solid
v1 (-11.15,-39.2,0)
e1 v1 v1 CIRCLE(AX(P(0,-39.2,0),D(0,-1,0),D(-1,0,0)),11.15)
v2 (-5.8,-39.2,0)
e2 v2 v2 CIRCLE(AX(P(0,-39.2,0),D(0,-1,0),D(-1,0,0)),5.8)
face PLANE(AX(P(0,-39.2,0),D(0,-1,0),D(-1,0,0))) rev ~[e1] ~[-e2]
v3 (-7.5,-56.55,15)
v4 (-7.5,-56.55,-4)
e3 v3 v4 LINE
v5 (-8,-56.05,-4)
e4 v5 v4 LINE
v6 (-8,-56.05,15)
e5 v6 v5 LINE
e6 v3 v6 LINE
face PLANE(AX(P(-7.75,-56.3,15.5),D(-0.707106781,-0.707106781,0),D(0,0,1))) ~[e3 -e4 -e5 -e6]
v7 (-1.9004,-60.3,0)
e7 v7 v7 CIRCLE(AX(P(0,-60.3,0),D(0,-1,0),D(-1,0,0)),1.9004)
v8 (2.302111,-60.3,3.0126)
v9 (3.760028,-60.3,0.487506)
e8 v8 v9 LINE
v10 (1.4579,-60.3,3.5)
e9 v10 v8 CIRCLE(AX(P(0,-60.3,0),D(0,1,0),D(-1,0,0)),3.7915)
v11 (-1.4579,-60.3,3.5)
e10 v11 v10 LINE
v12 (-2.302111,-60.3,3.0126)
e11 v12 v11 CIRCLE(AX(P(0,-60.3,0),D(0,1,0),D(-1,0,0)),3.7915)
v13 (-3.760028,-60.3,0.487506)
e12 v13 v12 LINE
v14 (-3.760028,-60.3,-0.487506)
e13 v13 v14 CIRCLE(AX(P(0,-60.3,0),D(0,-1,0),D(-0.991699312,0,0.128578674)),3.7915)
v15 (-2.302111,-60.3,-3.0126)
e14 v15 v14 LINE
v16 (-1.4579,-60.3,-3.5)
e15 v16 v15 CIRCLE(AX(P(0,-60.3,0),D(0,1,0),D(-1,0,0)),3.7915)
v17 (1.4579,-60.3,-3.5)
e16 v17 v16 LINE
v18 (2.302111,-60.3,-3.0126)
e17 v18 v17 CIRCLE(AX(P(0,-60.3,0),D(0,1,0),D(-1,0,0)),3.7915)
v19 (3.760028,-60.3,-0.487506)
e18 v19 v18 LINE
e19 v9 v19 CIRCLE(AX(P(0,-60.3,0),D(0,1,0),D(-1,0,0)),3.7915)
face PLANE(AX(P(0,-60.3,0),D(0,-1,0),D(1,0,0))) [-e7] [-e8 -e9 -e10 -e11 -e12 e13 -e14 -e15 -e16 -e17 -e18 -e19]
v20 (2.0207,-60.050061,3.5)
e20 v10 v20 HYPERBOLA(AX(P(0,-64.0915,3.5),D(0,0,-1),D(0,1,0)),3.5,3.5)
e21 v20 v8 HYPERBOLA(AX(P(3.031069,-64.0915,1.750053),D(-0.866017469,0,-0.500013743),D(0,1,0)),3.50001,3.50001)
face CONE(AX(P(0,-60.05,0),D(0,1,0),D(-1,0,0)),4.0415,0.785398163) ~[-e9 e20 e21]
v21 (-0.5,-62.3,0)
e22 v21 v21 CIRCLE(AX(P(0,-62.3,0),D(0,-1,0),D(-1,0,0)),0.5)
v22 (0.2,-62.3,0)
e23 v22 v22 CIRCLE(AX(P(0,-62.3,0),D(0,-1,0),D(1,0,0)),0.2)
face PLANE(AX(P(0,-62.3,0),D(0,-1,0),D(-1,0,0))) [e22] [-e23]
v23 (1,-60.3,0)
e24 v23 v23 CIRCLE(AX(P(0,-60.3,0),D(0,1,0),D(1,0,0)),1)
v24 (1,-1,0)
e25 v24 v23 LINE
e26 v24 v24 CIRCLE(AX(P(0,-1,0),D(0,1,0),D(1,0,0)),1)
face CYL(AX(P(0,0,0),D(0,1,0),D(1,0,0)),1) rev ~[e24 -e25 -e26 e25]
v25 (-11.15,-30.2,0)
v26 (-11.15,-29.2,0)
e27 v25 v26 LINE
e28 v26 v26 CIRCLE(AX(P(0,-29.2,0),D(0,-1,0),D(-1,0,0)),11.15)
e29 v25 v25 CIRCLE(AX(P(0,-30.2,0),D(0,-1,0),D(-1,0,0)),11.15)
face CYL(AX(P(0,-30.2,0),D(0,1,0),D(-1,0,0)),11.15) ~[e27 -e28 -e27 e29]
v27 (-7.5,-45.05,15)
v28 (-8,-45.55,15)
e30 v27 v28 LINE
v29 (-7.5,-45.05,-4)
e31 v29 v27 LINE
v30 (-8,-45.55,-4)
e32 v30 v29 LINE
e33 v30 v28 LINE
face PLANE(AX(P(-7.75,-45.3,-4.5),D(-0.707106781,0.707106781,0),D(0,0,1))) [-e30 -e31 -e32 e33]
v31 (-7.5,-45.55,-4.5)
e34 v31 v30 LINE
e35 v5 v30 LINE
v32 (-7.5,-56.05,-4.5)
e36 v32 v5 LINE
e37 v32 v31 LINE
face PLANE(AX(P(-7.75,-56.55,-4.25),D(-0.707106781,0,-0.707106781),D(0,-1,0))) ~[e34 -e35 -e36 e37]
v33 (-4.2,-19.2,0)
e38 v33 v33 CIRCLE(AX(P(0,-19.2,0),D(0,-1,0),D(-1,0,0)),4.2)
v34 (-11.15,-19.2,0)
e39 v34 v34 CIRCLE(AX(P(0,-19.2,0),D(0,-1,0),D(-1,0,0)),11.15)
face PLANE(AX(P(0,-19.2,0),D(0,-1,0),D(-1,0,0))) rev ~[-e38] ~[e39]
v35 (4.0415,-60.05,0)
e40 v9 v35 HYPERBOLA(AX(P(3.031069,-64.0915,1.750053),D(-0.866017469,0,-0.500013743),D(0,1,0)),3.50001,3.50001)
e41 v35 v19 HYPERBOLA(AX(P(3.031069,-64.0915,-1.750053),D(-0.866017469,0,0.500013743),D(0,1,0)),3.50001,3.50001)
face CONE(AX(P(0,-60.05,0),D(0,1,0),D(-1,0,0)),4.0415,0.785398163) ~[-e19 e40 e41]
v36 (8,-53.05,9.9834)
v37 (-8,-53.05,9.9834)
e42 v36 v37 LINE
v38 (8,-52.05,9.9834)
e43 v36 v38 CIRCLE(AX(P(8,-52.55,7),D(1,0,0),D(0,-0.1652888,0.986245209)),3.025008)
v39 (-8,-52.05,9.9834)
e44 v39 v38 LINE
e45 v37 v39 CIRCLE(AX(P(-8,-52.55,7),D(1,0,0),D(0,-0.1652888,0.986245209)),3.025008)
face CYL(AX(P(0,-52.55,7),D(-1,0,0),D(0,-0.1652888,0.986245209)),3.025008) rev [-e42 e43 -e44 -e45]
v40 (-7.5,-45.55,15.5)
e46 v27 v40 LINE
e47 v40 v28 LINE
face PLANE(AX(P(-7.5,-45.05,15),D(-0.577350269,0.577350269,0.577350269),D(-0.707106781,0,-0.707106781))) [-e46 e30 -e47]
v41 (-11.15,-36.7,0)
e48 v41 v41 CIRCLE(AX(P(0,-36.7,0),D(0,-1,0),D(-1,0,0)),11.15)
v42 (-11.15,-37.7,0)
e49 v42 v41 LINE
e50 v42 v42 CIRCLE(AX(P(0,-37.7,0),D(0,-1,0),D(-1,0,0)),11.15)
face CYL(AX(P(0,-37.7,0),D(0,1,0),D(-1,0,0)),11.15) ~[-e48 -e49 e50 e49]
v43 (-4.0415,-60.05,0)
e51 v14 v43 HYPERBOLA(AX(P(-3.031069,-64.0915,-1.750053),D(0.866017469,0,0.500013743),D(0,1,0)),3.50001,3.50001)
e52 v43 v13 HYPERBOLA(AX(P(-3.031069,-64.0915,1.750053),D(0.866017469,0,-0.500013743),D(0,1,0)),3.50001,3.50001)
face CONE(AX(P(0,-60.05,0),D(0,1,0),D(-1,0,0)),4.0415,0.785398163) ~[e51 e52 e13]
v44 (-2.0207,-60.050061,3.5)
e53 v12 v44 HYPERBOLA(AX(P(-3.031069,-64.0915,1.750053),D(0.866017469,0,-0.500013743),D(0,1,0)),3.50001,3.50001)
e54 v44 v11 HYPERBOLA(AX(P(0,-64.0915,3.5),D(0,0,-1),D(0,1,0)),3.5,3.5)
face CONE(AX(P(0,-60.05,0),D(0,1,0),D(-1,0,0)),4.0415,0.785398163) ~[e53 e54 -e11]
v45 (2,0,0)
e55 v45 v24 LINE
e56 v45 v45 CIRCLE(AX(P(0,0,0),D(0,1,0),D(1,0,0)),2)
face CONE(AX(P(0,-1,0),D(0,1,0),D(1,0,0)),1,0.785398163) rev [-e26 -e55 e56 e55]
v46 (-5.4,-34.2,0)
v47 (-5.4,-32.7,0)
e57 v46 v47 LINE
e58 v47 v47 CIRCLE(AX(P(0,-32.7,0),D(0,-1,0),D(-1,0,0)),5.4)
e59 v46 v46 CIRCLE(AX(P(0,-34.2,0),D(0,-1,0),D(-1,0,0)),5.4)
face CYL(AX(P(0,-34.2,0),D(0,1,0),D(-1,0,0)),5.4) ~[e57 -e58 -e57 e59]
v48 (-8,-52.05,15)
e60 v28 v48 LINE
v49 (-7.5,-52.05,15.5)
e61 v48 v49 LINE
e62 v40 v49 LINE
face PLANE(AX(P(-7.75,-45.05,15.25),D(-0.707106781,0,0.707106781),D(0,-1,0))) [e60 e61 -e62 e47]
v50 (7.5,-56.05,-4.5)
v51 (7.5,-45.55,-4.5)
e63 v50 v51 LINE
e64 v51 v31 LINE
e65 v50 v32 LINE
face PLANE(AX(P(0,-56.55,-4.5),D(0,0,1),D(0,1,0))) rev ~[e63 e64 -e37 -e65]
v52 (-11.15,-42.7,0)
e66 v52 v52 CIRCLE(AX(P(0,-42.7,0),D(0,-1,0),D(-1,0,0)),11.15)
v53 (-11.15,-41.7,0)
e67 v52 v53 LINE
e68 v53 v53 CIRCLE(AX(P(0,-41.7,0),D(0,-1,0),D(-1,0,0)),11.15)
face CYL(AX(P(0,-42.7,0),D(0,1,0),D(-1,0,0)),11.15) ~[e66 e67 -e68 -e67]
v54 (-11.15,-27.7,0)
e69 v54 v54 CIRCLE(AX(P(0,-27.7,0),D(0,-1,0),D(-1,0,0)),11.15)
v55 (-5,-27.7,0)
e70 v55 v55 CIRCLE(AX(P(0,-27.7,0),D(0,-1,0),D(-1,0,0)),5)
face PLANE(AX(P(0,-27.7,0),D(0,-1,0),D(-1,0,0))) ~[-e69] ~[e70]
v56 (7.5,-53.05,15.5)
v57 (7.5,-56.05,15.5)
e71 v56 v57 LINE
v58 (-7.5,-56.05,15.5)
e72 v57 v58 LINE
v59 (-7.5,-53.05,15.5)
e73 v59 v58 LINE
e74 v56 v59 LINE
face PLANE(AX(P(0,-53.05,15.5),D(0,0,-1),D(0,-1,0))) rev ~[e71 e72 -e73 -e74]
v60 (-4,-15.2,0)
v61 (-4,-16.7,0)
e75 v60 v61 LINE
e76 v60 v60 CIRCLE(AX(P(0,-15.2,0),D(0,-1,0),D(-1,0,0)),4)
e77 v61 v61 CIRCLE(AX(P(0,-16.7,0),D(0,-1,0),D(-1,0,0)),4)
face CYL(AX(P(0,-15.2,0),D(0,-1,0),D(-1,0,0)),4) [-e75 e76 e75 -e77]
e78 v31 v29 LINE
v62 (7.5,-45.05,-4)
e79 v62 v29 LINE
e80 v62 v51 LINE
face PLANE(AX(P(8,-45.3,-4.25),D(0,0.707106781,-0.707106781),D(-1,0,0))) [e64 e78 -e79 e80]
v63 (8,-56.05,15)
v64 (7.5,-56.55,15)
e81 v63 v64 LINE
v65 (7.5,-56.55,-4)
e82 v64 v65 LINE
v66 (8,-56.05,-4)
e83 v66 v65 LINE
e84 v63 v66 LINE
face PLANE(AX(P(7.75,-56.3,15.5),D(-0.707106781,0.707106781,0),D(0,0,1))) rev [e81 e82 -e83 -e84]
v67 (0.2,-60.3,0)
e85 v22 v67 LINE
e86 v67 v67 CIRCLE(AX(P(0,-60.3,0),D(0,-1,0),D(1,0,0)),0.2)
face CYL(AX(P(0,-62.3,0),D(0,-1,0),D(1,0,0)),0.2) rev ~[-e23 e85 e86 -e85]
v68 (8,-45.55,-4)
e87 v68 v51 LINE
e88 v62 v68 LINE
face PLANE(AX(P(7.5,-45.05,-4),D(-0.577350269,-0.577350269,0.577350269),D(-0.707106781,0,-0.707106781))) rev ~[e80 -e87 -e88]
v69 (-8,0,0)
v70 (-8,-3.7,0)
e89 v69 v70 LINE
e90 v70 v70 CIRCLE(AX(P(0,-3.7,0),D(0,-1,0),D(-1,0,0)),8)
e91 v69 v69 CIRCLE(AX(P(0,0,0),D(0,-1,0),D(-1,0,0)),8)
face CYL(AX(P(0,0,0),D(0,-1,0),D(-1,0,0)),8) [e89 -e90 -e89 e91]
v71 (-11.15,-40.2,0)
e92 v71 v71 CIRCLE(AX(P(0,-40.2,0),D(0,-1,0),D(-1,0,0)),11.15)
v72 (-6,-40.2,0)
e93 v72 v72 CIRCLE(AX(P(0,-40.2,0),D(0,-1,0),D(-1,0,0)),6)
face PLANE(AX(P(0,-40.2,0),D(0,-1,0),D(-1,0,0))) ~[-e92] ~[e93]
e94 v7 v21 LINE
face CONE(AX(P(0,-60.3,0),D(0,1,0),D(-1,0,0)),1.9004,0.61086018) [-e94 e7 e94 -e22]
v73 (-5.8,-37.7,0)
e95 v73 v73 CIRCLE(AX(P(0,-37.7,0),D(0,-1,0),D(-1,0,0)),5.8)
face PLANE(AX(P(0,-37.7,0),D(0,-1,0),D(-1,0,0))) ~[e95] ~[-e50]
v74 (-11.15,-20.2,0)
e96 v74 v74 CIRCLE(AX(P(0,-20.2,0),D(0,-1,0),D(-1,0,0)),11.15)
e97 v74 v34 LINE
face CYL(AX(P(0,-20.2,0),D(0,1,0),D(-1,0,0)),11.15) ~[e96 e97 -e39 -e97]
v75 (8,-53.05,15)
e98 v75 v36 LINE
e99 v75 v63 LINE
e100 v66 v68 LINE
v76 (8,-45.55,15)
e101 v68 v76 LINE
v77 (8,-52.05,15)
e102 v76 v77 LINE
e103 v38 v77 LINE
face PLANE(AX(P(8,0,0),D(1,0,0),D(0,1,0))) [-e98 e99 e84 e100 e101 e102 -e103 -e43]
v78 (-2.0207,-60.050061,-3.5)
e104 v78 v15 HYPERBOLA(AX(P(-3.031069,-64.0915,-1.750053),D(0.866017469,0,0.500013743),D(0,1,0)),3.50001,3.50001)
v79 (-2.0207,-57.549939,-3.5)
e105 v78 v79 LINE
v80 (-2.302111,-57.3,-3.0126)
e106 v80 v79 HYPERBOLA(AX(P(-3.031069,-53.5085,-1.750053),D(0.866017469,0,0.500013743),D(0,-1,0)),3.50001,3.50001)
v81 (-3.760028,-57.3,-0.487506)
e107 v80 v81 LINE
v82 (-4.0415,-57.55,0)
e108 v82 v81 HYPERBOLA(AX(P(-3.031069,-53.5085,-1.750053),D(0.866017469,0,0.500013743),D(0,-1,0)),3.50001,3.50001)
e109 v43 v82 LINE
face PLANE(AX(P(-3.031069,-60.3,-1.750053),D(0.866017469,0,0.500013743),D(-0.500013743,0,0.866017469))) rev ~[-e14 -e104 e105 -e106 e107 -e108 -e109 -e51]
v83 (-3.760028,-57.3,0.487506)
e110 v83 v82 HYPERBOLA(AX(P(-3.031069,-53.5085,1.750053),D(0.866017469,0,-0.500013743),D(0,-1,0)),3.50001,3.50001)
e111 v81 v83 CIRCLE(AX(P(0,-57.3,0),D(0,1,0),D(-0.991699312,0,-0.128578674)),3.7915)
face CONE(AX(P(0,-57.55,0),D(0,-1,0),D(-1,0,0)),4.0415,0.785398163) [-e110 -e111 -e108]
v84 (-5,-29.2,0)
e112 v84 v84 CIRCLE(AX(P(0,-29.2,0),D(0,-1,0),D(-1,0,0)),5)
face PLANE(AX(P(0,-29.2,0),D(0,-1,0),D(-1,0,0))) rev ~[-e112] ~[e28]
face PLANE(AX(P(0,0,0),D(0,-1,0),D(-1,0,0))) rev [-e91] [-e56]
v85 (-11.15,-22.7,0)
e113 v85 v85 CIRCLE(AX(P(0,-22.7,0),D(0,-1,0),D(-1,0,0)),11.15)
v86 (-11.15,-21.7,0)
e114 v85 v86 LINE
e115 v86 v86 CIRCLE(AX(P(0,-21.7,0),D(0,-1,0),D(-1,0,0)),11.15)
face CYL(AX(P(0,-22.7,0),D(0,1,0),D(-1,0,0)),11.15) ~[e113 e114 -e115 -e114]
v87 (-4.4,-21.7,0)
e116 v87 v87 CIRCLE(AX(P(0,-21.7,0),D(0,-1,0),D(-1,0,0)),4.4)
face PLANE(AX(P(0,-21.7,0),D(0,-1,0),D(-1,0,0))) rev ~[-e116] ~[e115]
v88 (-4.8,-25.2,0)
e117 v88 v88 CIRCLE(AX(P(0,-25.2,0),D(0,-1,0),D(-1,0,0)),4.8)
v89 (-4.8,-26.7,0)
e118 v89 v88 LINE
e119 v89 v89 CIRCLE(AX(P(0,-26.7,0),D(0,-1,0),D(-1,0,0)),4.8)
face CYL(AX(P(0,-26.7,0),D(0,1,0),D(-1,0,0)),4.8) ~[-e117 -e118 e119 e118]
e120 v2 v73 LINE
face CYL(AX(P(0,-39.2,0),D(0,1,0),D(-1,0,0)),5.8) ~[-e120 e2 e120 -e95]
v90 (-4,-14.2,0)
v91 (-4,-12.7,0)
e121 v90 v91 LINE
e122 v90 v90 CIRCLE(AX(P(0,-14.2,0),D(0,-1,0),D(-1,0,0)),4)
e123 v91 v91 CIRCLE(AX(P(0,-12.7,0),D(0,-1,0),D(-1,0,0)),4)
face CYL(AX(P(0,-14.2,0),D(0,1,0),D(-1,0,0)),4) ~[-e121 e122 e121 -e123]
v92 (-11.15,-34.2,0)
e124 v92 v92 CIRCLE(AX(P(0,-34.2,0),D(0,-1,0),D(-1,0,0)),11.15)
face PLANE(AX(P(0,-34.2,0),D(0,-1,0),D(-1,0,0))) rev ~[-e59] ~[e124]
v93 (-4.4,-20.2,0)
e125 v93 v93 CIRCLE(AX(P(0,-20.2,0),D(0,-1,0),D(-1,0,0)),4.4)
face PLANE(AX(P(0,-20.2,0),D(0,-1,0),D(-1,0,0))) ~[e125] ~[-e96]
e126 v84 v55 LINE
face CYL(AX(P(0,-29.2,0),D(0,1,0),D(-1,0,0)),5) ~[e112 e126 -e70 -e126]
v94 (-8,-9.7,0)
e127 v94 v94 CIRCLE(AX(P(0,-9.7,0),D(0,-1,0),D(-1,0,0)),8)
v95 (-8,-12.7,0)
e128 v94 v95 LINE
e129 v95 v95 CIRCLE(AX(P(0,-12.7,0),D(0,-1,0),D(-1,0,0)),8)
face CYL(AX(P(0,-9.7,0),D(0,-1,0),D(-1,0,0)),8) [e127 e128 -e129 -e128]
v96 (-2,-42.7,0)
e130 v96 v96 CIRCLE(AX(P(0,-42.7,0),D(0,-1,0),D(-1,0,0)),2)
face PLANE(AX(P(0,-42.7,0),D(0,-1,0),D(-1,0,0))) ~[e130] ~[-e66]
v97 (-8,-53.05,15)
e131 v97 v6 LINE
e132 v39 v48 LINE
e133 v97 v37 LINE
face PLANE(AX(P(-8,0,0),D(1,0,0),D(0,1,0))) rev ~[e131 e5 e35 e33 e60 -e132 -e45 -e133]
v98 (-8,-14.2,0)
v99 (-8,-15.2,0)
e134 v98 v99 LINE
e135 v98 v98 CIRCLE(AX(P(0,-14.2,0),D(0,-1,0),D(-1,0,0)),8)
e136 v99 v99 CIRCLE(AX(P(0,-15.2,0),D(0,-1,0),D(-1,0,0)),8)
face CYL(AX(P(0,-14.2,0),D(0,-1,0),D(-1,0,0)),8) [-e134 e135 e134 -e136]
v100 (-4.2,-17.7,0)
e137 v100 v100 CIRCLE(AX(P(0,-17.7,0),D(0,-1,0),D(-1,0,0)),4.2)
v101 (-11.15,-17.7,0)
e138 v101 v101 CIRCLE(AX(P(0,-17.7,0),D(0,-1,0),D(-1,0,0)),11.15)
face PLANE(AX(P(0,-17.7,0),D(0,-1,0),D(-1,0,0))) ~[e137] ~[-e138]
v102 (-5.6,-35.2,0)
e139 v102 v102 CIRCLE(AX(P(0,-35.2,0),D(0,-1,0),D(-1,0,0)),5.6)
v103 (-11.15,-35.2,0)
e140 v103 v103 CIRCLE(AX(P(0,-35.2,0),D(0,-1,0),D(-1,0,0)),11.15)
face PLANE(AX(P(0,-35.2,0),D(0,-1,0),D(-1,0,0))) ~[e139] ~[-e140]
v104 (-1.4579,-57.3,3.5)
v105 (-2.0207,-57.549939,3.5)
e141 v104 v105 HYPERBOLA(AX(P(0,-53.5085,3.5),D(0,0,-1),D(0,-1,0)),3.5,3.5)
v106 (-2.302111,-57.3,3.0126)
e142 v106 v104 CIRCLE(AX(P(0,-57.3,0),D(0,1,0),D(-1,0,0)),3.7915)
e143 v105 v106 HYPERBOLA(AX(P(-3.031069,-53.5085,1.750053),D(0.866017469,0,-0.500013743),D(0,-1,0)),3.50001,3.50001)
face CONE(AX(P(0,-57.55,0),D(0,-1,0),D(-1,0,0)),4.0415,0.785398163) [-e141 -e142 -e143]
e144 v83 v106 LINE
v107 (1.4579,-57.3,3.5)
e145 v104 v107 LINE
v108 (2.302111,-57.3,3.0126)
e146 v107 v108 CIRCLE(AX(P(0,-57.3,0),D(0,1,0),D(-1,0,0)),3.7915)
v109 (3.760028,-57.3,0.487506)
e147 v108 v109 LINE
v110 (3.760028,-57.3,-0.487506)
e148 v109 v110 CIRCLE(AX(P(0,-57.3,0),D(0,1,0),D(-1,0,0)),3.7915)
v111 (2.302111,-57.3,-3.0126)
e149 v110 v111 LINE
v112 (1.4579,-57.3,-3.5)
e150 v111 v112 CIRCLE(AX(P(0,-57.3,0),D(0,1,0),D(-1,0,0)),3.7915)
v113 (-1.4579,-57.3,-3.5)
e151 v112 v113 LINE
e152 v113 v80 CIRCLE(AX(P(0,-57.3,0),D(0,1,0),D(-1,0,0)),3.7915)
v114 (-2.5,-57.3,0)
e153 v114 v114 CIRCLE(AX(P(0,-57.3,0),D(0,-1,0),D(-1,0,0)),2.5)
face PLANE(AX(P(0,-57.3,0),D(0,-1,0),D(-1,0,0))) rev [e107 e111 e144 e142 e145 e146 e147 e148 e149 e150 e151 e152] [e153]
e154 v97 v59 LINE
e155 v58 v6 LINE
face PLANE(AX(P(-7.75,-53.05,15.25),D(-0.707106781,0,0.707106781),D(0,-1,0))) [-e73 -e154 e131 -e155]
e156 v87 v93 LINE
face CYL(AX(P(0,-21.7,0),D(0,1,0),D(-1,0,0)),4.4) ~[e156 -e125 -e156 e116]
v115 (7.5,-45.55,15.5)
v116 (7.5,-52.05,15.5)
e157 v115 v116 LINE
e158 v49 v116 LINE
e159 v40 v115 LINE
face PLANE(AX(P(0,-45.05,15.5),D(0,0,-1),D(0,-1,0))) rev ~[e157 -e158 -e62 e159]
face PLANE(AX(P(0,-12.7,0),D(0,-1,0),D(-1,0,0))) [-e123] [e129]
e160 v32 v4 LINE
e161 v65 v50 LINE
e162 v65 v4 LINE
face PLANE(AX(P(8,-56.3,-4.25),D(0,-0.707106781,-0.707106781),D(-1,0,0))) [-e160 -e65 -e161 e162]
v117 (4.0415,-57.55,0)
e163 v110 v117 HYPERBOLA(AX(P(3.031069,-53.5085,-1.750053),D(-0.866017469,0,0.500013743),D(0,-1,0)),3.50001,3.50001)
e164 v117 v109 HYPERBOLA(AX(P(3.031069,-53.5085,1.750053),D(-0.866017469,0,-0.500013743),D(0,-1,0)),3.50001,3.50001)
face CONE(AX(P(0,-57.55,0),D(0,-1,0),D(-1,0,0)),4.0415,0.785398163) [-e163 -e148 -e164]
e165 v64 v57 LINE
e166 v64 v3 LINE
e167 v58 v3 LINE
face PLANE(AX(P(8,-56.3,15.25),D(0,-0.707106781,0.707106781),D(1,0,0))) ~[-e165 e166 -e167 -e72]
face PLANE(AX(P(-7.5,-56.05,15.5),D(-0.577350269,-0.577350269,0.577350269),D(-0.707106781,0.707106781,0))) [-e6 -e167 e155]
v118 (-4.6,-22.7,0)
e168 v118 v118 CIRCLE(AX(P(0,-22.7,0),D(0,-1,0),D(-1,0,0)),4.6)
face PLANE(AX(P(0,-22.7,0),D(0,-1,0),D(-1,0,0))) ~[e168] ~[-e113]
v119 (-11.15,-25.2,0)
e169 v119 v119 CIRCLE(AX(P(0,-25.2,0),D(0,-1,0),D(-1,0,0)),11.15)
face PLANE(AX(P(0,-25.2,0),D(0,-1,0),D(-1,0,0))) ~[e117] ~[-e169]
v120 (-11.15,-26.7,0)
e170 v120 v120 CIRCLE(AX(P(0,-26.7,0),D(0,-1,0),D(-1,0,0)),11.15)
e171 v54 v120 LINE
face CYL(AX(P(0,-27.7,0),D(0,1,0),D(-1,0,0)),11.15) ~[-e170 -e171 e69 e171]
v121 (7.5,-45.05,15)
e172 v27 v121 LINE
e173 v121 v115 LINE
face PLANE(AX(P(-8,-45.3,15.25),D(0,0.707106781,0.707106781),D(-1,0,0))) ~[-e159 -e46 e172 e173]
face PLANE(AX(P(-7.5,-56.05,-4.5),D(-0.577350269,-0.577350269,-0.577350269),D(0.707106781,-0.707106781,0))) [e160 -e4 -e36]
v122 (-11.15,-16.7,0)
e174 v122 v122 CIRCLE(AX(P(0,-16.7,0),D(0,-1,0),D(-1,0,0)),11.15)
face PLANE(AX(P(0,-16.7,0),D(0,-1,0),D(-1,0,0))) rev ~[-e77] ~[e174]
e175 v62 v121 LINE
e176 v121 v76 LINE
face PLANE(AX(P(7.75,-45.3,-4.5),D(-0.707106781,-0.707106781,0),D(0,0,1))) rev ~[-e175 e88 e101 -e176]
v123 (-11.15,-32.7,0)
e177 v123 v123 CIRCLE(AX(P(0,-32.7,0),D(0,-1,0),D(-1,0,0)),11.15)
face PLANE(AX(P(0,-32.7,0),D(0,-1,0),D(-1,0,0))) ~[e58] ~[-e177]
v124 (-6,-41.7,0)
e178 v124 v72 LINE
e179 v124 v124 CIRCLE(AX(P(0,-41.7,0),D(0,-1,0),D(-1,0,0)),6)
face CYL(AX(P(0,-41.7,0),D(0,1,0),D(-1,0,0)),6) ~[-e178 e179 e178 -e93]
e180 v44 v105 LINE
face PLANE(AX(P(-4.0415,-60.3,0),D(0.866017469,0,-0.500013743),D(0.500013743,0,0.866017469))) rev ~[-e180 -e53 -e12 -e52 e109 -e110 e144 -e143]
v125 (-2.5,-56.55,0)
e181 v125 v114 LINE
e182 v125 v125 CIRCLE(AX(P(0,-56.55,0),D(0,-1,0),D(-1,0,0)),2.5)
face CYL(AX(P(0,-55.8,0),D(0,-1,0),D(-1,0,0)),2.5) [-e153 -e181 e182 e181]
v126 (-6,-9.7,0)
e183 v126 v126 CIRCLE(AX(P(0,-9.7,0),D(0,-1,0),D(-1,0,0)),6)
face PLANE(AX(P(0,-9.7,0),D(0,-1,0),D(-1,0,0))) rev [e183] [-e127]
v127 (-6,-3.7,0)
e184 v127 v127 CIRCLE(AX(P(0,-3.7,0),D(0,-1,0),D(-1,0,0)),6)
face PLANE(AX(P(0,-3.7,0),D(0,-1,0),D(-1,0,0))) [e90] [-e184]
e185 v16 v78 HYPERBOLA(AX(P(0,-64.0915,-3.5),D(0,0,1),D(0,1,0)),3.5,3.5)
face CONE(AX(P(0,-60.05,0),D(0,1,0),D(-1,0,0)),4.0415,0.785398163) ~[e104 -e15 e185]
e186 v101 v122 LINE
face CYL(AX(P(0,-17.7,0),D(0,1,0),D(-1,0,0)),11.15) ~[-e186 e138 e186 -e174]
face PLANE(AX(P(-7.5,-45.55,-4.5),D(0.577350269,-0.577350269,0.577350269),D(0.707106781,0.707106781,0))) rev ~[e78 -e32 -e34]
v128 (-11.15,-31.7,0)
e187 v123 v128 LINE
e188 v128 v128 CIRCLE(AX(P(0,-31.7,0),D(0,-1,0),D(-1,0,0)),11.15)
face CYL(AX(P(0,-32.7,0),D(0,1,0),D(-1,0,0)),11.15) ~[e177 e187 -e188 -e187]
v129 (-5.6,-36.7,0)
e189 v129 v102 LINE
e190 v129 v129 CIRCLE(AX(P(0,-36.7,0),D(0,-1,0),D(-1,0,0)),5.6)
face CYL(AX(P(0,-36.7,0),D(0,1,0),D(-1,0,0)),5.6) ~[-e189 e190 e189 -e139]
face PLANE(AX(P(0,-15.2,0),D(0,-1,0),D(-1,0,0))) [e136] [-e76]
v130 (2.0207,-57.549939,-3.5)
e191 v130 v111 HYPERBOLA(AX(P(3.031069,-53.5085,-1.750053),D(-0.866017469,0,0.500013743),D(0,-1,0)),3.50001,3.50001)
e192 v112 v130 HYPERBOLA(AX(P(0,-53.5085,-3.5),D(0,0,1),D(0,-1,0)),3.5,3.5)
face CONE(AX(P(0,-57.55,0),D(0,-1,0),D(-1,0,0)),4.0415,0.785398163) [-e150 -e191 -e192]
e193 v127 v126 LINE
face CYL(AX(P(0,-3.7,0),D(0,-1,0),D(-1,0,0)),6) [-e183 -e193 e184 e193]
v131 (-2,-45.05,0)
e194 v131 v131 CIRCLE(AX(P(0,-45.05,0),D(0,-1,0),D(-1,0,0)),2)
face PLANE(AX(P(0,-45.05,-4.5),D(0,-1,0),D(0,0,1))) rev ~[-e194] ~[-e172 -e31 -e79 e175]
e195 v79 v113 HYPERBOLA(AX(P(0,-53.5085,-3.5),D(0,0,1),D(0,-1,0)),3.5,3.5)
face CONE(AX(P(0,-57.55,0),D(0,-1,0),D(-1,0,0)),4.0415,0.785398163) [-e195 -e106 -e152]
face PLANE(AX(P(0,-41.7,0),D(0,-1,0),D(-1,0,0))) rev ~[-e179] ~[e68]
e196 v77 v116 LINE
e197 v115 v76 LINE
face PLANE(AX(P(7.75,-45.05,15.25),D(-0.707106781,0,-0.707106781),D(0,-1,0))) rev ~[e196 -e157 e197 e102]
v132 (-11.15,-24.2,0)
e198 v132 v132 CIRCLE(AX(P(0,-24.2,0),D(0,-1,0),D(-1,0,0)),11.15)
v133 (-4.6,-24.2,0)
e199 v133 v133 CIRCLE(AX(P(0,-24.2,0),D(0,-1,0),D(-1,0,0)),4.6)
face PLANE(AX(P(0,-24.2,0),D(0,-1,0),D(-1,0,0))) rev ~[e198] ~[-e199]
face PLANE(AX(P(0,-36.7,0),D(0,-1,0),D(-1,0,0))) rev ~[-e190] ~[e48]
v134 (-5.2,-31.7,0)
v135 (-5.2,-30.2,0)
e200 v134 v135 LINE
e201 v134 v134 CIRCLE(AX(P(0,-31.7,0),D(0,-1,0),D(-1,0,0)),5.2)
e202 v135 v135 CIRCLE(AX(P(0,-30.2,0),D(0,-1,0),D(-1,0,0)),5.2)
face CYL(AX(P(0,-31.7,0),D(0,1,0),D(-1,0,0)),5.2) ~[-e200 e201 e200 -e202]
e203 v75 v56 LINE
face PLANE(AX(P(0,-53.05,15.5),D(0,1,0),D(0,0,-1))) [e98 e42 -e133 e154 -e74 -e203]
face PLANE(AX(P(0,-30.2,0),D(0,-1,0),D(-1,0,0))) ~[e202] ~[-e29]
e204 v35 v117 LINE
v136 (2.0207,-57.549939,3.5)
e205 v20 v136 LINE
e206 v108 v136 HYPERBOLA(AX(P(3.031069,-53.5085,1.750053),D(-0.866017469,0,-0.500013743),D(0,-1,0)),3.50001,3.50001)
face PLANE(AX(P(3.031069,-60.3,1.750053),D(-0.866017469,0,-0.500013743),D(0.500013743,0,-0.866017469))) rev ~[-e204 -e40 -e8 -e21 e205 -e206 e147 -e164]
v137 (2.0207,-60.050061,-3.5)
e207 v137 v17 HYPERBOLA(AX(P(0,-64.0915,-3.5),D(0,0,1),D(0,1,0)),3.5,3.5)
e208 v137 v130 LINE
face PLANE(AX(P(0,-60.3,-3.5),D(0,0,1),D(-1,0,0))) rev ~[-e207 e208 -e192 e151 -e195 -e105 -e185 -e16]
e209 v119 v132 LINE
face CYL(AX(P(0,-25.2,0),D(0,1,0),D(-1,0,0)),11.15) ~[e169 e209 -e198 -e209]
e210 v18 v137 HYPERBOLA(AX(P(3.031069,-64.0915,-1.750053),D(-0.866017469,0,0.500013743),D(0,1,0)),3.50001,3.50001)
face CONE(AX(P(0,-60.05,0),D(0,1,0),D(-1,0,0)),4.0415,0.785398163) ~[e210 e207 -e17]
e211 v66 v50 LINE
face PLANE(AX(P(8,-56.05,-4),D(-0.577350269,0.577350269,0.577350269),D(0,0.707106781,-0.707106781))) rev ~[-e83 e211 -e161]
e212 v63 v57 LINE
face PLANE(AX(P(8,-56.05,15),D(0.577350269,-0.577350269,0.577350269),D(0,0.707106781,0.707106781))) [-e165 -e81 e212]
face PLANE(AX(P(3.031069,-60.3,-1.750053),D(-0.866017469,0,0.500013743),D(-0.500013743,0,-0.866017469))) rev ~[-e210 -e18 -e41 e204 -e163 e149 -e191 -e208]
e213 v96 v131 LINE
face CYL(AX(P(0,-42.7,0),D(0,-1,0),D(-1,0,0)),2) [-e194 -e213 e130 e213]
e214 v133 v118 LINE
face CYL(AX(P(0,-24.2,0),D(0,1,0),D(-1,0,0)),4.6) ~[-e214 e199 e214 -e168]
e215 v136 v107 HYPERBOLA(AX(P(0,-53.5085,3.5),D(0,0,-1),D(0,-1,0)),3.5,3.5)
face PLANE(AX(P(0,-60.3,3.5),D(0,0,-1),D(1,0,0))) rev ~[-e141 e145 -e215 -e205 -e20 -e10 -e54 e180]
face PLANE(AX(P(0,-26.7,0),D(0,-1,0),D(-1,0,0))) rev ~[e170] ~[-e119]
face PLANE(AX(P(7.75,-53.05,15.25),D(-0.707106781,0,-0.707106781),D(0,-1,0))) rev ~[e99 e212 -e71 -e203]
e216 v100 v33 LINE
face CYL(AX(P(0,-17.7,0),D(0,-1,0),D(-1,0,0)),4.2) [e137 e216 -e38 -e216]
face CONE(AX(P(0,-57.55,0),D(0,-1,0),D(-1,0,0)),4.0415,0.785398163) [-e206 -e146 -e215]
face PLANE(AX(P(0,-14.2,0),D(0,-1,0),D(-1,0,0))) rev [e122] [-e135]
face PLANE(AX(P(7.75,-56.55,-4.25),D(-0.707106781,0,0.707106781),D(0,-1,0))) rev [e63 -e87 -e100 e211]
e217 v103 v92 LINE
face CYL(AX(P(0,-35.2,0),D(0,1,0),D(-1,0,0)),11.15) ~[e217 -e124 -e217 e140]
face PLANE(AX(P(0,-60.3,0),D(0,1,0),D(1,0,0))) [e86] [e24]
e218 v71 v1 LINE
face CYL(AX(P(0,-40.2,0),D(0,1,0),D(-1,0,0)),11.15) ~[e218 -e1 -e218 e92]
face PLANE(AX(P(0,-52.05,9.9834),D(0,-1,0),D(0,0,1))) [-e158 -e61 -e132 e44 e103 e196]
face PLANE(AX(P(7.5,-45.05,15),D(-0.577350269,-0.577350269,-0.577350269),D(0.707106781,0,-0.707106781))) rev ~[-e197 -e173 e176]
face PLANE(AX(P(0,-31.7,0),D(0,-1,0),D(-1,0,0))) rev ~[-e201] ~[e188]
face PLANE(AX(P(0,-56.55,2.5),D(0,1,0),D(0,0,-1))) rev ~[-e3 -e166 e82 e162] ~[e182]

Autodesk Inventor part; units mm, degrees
ref_plane "YZ Plane" through (0, 0, 0) normal (1, 0, 0) x (0, 1, 0)
ref_plane "XZ Plane" through (0, 0, 0) normal (0, 1, 0) x (-1, 0, 0)
ref_plane "XY Plane" through (0, 0, 0) normal (0, 0, 1) x (1, 0, 0)
sketch "Sketch2" plane through (0, 0, 0) normal (0, 0, 1) x (1, 0, 0)
  line L0 (0, 0) -> (0, -42.7)
  line L1 (0, 0) -> (-8, 0)
  line L2 (-8, 0) -> (-8, -3.7)
  line L3 (-8, -3.7) -> (0, -3.7)
  line L4 (0, -3.7) -> (0, 0)
  line L5 (0, -3.7) -> (-6, -3.7)
  line L6 (-6, -3.7) -> (-6, -9.7)
  line L7 (-6, -9.7) -> (0, -9.7)
  line L8 (0, -9.7) -> (0, -3.7)
  line L9 (0, -9.7) -> (-8, -9.7)
  line L10 (-8, -9.7) -> (-8, -12.7)
  line L11 (-8, -12.7) -> (0, -12.7)
  line L12 (0, -12.7) -> (0, -9.7)
  line L13 (0, -42.7) -> (-11.15, -42.7)
  line L14 (-11.15, -42.7) -> (-11.15, -41.7)
  line L15 (-11.15, -41.7) -> (0, -41.7)
  line L16 (0, -41.7) -> (0, -42.7)
  line L17 (-11.15, -39.2) -> (0, -39.2)
  line L18 (0, -39.2) -> (0, -40.2)
  line L19 (0, -40.2) -> (-11.15, -40.2)
  line L20 (-11.15, -40.2) -> (-11.15, -39.2)
  line L21 (-11.15, -36.7) -> (0, -36.7)
  line L22 (0, -36.7) -> (0, -37.7)
  line L23 (0, -37.7) -> (-11.15, -37.7)
  line L24 (-11.15, -37.7) -> (-11.15, -36.7)
  line L25 (-11.15, -34.2) -> (0, -34.2)
  line L26 (0, -34.2) -> (0, -35.2)
  line L27 (0, -35.2) -> (-11.15, -35.2)
  line L28 (-11.15, -35.2) -> (-11.15, -34.2)
  line L29 (-11.15, -31.7) -> (0, -31.7)
  line L30 (0, -31.7) -> (0, -32.7)
  line L31 (0, -32.7) -> (-11.15, -32.7)
  line L32 (-11.15, -32.7) -> (-11.15, -31.7)
  line L33 (-11.15, -29.2) -> (0, -29.2)
  line L34 (0, -29.2) -> (0, -30.2)
  line L35 (0, -30.2) -> (-11.15, -30.2)
  line L36 (-11.15, -30.2) -> (-11.15, -29.2)
  line L37 (-11.15, -26.7) -> (0, -26.7)
  line L38 (0, -26.7) -> (0, -27.7)
  line L39 (0, -27.7) -> (-11.15, -27.7)
  line L40 (-11.15, -27.7) -> (-11.15, -26.7)
  line L41 (-11.15, -24.2) -> (0, -24.2)
  line L42 (0, -24.2) -> (0, -25.2)
  line L43 (0, -25.2) -> (-11.15, -25.2)
  line L44 (-11.15, -25.2) -> (-11.15, -24.2)
  line L45 (-11.15, -21.7) -> (0, -21.7)
  line L46 (0, -21.7) -> (0, -22.7)
  line L47 (0, -22.7) -> (-11.15, -22.7)
  line L48 (-11.15, -22.7) -> (-11.15, -21.7)
  line L49 (-11.15, -19.2) -> (0, -19.2)
  line L50 (0, -19.2) -> (0, -20.2)
  line L51 (0, -20.2) -> (-11.15, -20.2)
  line L52 (-11.15, -20.2) -> (-11.15, -19.2)
  line L53 (-11.15, -16.7) -> (0, -16.7)
  line L54 (0, -16.7) -> (0, -17.7)
  line L55 (0, -17.7) -> (-11.15, -17.7)
  line L56 (-11.15, -17.7) -> (-11.15, -16.7)
  line L57 (0, -14.2) -> (-8, -14.2)
  line L58 (-8, -14.2) -> (-8, -15.2)
  line L59 (-8, -15.2) -> (0, -15.2)
  line L60 (0, -15.2) -> (0, -14.2)
  line L61 (0, -12.7) -> (0, -39.2)
  line L62 (-4, -15.2) -> (-4, -16.7)
  line L63 (-4, -14.2) -> (-4, -12.7)
  line L64 (-4, -16.7) -> (-6, -41.7)
  line L65 (-4.2, -17.7) -> (-4.2, -19.2)
  line L66 (-4.4, -21.7) -> (-4.4, -20.2)
  line L67 (-4.6, -24.2) -> (-4.6, -22.7)
  line L68 (-4.8, -26.7) -> (-4.8, -25.2)
  line L69 (-5, -29.2) -> (-5, -27.7)
  line L70 (-5.2, -31.7) -> (-5.2, -30.2)
  line L71 (-5.4, -34.2) -> (-5.4, -32.7)
  line L72 (-5.6, -36.7) -> (-5.6, -35.2)
  line L73 (-5.8, -39.2) -> (-5.8, -37.7)
  line L74 (-6, -41.7) -> (-6, -40.2)
  line L75 (0, -17.7) -> (0, -41.7)
  line L76 (0, -12.7) -> (0, -14.2)
  line L77 (0, -15.2) -> (0, -16.7)
  line L78 (0, -30.2) -> (0, -31.7)
  line L79 (0, -42.7) -> (-2, -42.7)
  line L80 (-2, -42.7) -> (-2, -49.8)
  line L81 (-2, -49.8) -> (0, -49.8)
  line L82 (0, -49.8) -> (0, -42.7)
  line L83 (0, -49.8) -> (-3, -49.8)
  line L84 (-3, -49.8) -> (-3, -55.8)
  line L85 (-3, -55.8) -> (0, -55.8)
  line L86 (0, -55.8) -> (0, -49.8)
  line L87 (0, -55.8) -> (-2.5, -55.8)
  line L88 (-2.5, -55.8) -> (-2.5, -57.3)
  line L89 (-2.5, -57.3) -> (0, -57.3)
  line L90 (0, -57.3) -> (0, -55.8)
  line L91 (0, -57.3) -> (-3.5, -57.3)
  line L92 (-3.5, -57.3) -> (-3.5, -60.3)
  line L93 (-3.5, -60.3) -> (0, -60.3)
  line L94 (0, -60.3) -> (0, -57.3)
  line L95 (-1.9004, -60.3) -> (-0.5, -62.3)
  line L96 (-0.5, -62.3) -> (0, -62.3)
  line L97 (0, -62.3) -> (0, -60.3)
  dimension "d21" = 42.7
  dimension "d22" = 8
  dimension "d23" = 3.7
  dimension "d24" = 6
  dimension "d25" = 6
  dimension "d26" = 8
  dimension "d27" = 3
  dimension "d28" = 11.15
  dimension "d29" = 1
  dimension "d39" = 2.5
  dimension "d44" = 8
  dimension "d45" = 1
  dimension "d46" = 1.5
  dimension "d48" = 12
  dimension "d50" = 2
  dimension "d51" = 7.1
  dimension "d52" = 3
  dimension "d53" = 6
  dimension "d54" = 2.5
  dimension "d55" = 1.5
  dimension "d56" = 3.5
  dimension "d57" = 10.5
  dimension "d58" = 125
  dimension "d59" = 0.5
  dimension "d60" = 2
revolve "Revolution1" add sketch "Sketch2" angle 360 about axis through (0, -31.7, 0) along (0, -1, 0)
sketch "Sketch3" plane through (0, -60.3, 0) normal (0, -1, 0) x (1, 0, 0)
  circle A0 centre (0, 0) radius 3.5 projected
  circle A1 centre (0, 0) radius 1.9004 projected
  line L0 (4.0415, 0) -> (2.0207, -3.5)
  line L1 (2.0207, -3.5) -> (-2.0207, -3.5)
  line L2 (-2.0207, -3.5) -> (-4.0415, 0)
  line L3 (-4.0415, 0) -> (-2.0207, 3.5)
  line L4 (-2.0207, 3.5) -> (2.0207, 3.5)
  line L5 (2.0207, 3.5) -> (4.0415, 0)
  circle A2 centre (0, 0) radius 12.5
  dimension "d61" = 7
  dimension "d62" = 25
extrude "Extrusion1" add sketch "Sketch3" against normal up to surface (3 mm away) contours A0 L5 L0 | A0 L4 L5 | L0 L1 A0 | A0 L3 L4 | L1 L2 A0 | A0 L2 L3
sketch "Sketch4" plane through (0, 0, 0) normal (1, 0, 0) x (0, 1, 0)
  line L0 (-45.05, 15.5) -> (-56.55, 15.5)
  line L1 (-56.55, 15.5) -> (-56.55, -4.5)
  line L2 (-56.55, -4.5) -> (-45.05, -4.5)
  line L3 (-45.05, -4.5) -> (-45.05, 15.5)
  arc A0 (-53.05, 9.9834) -> (-52.05, 9.9834) centre (-52.55, 7) ccw
  line L4 (-60.3, 0) -> (-57.3, 0) projected
  line L5 (-52.55, 7) -> (-52.55, 15.5) construction
  line L6 (-53.05, 15.5) -> (-53.05, 9.9834)
  line L7 (-52.05, 9.9834) -> (-52.05, 15.5)
  line L8 (-57.3, 2.5) -> (-55.8, 2.5) projected
  point P0 (0, 0)
  point P1 (-52.55, 11.25)
  point P2 (-56.55, 2.5)
  dimension "d65" = 11.5
  dimension "d66" = 20
  dimension "d67" = 6.05
  dimension "d68" = 4
  dimension "d69" = 11.5
  dimension "d70" = 4.5
  dimension "d84" = 3.5
  dimension "d85" = 4.5
extrude "Extrusion2" add sketch "Sketch4" along normal mid plane 16 contours L3 L2 L1 L0 L6 A0 L7
sketch "Sketch5" plane through (0, -62.3, 0) normal (0, -1, 0) x (1, 0, 0)
  circle A0 centre (0, 0) radius 0.2
  dimension "d75" = 0.4
extrude "Extrusion3" cut sketch "Sketch5" against normal through all
sketch "Sketch6" plane through (0, 0, 0) normal (0, 1, 0) x (1, 0, 0)
  circle A0 centre (0, 0) radius 1
  dimension "d78" = 2
extrude "Extrusion4" cut sketch "Sketch6" against normal up to surface (60.3 mm away)
chamfer "Chamfer1" distance 1 angle 45 1 edges at (-1, 0, 0)
chamfer "Chamfer2" distance 0.5 angle 45 14 edges at (-8, -56.55, 5.5) (0, -56.55, 15.5) (-8, -54.8, 15.5) (-8, -48.55, 15.5) (8, -48.55, 15.5) (0, -45.05, 15.5) (-8, -45.05, 5.5) (-8, -50.8, -4.5) (0, -56.55, -4.5) (8, -56.55, 5.5) (8, -50.8, -4.5) (8, -45.05, 5.5) (8, -54.8, 15.5) (0, -45.05, -4.5)
sketch "Sketch7" plane through (0, 0, 0) normal (0, 0, 1) x (1, 0, 0)
  line L0 (-4.0415, -60.3) -> (-2.0207, -60.3) projected
  line L1 (-4.0415, -60.3) -> (-4.0415, -57.3) projected
  line L2 (-4.0415, -60.05) -> (-3.7915, -60.3)
  line L3 (0, -74.76) -> (0, 12.46) projected
  line L4 (-2.0207, -57.3) -> (-4.0415, -57.3) projected
  line L5 (-4.0415, -57.55) -> (-3.7915, -57.3)
  point P0 (0, 0)
  dimension "d89" = 0.25
  dimension "d90" = 0.25
  dimension "d92" = 0.25
  dimension "d93" = 0.25
revolve "Revolution2" cut sketch "Sketch7" angle 360 about axis through (0, -10, 0) along (0, 1, 0)
equation "\"d90\" = d89"
equation "\"d92\" = d89"
equation "\"d93\" = d89"
properties part number "e3dv6"
